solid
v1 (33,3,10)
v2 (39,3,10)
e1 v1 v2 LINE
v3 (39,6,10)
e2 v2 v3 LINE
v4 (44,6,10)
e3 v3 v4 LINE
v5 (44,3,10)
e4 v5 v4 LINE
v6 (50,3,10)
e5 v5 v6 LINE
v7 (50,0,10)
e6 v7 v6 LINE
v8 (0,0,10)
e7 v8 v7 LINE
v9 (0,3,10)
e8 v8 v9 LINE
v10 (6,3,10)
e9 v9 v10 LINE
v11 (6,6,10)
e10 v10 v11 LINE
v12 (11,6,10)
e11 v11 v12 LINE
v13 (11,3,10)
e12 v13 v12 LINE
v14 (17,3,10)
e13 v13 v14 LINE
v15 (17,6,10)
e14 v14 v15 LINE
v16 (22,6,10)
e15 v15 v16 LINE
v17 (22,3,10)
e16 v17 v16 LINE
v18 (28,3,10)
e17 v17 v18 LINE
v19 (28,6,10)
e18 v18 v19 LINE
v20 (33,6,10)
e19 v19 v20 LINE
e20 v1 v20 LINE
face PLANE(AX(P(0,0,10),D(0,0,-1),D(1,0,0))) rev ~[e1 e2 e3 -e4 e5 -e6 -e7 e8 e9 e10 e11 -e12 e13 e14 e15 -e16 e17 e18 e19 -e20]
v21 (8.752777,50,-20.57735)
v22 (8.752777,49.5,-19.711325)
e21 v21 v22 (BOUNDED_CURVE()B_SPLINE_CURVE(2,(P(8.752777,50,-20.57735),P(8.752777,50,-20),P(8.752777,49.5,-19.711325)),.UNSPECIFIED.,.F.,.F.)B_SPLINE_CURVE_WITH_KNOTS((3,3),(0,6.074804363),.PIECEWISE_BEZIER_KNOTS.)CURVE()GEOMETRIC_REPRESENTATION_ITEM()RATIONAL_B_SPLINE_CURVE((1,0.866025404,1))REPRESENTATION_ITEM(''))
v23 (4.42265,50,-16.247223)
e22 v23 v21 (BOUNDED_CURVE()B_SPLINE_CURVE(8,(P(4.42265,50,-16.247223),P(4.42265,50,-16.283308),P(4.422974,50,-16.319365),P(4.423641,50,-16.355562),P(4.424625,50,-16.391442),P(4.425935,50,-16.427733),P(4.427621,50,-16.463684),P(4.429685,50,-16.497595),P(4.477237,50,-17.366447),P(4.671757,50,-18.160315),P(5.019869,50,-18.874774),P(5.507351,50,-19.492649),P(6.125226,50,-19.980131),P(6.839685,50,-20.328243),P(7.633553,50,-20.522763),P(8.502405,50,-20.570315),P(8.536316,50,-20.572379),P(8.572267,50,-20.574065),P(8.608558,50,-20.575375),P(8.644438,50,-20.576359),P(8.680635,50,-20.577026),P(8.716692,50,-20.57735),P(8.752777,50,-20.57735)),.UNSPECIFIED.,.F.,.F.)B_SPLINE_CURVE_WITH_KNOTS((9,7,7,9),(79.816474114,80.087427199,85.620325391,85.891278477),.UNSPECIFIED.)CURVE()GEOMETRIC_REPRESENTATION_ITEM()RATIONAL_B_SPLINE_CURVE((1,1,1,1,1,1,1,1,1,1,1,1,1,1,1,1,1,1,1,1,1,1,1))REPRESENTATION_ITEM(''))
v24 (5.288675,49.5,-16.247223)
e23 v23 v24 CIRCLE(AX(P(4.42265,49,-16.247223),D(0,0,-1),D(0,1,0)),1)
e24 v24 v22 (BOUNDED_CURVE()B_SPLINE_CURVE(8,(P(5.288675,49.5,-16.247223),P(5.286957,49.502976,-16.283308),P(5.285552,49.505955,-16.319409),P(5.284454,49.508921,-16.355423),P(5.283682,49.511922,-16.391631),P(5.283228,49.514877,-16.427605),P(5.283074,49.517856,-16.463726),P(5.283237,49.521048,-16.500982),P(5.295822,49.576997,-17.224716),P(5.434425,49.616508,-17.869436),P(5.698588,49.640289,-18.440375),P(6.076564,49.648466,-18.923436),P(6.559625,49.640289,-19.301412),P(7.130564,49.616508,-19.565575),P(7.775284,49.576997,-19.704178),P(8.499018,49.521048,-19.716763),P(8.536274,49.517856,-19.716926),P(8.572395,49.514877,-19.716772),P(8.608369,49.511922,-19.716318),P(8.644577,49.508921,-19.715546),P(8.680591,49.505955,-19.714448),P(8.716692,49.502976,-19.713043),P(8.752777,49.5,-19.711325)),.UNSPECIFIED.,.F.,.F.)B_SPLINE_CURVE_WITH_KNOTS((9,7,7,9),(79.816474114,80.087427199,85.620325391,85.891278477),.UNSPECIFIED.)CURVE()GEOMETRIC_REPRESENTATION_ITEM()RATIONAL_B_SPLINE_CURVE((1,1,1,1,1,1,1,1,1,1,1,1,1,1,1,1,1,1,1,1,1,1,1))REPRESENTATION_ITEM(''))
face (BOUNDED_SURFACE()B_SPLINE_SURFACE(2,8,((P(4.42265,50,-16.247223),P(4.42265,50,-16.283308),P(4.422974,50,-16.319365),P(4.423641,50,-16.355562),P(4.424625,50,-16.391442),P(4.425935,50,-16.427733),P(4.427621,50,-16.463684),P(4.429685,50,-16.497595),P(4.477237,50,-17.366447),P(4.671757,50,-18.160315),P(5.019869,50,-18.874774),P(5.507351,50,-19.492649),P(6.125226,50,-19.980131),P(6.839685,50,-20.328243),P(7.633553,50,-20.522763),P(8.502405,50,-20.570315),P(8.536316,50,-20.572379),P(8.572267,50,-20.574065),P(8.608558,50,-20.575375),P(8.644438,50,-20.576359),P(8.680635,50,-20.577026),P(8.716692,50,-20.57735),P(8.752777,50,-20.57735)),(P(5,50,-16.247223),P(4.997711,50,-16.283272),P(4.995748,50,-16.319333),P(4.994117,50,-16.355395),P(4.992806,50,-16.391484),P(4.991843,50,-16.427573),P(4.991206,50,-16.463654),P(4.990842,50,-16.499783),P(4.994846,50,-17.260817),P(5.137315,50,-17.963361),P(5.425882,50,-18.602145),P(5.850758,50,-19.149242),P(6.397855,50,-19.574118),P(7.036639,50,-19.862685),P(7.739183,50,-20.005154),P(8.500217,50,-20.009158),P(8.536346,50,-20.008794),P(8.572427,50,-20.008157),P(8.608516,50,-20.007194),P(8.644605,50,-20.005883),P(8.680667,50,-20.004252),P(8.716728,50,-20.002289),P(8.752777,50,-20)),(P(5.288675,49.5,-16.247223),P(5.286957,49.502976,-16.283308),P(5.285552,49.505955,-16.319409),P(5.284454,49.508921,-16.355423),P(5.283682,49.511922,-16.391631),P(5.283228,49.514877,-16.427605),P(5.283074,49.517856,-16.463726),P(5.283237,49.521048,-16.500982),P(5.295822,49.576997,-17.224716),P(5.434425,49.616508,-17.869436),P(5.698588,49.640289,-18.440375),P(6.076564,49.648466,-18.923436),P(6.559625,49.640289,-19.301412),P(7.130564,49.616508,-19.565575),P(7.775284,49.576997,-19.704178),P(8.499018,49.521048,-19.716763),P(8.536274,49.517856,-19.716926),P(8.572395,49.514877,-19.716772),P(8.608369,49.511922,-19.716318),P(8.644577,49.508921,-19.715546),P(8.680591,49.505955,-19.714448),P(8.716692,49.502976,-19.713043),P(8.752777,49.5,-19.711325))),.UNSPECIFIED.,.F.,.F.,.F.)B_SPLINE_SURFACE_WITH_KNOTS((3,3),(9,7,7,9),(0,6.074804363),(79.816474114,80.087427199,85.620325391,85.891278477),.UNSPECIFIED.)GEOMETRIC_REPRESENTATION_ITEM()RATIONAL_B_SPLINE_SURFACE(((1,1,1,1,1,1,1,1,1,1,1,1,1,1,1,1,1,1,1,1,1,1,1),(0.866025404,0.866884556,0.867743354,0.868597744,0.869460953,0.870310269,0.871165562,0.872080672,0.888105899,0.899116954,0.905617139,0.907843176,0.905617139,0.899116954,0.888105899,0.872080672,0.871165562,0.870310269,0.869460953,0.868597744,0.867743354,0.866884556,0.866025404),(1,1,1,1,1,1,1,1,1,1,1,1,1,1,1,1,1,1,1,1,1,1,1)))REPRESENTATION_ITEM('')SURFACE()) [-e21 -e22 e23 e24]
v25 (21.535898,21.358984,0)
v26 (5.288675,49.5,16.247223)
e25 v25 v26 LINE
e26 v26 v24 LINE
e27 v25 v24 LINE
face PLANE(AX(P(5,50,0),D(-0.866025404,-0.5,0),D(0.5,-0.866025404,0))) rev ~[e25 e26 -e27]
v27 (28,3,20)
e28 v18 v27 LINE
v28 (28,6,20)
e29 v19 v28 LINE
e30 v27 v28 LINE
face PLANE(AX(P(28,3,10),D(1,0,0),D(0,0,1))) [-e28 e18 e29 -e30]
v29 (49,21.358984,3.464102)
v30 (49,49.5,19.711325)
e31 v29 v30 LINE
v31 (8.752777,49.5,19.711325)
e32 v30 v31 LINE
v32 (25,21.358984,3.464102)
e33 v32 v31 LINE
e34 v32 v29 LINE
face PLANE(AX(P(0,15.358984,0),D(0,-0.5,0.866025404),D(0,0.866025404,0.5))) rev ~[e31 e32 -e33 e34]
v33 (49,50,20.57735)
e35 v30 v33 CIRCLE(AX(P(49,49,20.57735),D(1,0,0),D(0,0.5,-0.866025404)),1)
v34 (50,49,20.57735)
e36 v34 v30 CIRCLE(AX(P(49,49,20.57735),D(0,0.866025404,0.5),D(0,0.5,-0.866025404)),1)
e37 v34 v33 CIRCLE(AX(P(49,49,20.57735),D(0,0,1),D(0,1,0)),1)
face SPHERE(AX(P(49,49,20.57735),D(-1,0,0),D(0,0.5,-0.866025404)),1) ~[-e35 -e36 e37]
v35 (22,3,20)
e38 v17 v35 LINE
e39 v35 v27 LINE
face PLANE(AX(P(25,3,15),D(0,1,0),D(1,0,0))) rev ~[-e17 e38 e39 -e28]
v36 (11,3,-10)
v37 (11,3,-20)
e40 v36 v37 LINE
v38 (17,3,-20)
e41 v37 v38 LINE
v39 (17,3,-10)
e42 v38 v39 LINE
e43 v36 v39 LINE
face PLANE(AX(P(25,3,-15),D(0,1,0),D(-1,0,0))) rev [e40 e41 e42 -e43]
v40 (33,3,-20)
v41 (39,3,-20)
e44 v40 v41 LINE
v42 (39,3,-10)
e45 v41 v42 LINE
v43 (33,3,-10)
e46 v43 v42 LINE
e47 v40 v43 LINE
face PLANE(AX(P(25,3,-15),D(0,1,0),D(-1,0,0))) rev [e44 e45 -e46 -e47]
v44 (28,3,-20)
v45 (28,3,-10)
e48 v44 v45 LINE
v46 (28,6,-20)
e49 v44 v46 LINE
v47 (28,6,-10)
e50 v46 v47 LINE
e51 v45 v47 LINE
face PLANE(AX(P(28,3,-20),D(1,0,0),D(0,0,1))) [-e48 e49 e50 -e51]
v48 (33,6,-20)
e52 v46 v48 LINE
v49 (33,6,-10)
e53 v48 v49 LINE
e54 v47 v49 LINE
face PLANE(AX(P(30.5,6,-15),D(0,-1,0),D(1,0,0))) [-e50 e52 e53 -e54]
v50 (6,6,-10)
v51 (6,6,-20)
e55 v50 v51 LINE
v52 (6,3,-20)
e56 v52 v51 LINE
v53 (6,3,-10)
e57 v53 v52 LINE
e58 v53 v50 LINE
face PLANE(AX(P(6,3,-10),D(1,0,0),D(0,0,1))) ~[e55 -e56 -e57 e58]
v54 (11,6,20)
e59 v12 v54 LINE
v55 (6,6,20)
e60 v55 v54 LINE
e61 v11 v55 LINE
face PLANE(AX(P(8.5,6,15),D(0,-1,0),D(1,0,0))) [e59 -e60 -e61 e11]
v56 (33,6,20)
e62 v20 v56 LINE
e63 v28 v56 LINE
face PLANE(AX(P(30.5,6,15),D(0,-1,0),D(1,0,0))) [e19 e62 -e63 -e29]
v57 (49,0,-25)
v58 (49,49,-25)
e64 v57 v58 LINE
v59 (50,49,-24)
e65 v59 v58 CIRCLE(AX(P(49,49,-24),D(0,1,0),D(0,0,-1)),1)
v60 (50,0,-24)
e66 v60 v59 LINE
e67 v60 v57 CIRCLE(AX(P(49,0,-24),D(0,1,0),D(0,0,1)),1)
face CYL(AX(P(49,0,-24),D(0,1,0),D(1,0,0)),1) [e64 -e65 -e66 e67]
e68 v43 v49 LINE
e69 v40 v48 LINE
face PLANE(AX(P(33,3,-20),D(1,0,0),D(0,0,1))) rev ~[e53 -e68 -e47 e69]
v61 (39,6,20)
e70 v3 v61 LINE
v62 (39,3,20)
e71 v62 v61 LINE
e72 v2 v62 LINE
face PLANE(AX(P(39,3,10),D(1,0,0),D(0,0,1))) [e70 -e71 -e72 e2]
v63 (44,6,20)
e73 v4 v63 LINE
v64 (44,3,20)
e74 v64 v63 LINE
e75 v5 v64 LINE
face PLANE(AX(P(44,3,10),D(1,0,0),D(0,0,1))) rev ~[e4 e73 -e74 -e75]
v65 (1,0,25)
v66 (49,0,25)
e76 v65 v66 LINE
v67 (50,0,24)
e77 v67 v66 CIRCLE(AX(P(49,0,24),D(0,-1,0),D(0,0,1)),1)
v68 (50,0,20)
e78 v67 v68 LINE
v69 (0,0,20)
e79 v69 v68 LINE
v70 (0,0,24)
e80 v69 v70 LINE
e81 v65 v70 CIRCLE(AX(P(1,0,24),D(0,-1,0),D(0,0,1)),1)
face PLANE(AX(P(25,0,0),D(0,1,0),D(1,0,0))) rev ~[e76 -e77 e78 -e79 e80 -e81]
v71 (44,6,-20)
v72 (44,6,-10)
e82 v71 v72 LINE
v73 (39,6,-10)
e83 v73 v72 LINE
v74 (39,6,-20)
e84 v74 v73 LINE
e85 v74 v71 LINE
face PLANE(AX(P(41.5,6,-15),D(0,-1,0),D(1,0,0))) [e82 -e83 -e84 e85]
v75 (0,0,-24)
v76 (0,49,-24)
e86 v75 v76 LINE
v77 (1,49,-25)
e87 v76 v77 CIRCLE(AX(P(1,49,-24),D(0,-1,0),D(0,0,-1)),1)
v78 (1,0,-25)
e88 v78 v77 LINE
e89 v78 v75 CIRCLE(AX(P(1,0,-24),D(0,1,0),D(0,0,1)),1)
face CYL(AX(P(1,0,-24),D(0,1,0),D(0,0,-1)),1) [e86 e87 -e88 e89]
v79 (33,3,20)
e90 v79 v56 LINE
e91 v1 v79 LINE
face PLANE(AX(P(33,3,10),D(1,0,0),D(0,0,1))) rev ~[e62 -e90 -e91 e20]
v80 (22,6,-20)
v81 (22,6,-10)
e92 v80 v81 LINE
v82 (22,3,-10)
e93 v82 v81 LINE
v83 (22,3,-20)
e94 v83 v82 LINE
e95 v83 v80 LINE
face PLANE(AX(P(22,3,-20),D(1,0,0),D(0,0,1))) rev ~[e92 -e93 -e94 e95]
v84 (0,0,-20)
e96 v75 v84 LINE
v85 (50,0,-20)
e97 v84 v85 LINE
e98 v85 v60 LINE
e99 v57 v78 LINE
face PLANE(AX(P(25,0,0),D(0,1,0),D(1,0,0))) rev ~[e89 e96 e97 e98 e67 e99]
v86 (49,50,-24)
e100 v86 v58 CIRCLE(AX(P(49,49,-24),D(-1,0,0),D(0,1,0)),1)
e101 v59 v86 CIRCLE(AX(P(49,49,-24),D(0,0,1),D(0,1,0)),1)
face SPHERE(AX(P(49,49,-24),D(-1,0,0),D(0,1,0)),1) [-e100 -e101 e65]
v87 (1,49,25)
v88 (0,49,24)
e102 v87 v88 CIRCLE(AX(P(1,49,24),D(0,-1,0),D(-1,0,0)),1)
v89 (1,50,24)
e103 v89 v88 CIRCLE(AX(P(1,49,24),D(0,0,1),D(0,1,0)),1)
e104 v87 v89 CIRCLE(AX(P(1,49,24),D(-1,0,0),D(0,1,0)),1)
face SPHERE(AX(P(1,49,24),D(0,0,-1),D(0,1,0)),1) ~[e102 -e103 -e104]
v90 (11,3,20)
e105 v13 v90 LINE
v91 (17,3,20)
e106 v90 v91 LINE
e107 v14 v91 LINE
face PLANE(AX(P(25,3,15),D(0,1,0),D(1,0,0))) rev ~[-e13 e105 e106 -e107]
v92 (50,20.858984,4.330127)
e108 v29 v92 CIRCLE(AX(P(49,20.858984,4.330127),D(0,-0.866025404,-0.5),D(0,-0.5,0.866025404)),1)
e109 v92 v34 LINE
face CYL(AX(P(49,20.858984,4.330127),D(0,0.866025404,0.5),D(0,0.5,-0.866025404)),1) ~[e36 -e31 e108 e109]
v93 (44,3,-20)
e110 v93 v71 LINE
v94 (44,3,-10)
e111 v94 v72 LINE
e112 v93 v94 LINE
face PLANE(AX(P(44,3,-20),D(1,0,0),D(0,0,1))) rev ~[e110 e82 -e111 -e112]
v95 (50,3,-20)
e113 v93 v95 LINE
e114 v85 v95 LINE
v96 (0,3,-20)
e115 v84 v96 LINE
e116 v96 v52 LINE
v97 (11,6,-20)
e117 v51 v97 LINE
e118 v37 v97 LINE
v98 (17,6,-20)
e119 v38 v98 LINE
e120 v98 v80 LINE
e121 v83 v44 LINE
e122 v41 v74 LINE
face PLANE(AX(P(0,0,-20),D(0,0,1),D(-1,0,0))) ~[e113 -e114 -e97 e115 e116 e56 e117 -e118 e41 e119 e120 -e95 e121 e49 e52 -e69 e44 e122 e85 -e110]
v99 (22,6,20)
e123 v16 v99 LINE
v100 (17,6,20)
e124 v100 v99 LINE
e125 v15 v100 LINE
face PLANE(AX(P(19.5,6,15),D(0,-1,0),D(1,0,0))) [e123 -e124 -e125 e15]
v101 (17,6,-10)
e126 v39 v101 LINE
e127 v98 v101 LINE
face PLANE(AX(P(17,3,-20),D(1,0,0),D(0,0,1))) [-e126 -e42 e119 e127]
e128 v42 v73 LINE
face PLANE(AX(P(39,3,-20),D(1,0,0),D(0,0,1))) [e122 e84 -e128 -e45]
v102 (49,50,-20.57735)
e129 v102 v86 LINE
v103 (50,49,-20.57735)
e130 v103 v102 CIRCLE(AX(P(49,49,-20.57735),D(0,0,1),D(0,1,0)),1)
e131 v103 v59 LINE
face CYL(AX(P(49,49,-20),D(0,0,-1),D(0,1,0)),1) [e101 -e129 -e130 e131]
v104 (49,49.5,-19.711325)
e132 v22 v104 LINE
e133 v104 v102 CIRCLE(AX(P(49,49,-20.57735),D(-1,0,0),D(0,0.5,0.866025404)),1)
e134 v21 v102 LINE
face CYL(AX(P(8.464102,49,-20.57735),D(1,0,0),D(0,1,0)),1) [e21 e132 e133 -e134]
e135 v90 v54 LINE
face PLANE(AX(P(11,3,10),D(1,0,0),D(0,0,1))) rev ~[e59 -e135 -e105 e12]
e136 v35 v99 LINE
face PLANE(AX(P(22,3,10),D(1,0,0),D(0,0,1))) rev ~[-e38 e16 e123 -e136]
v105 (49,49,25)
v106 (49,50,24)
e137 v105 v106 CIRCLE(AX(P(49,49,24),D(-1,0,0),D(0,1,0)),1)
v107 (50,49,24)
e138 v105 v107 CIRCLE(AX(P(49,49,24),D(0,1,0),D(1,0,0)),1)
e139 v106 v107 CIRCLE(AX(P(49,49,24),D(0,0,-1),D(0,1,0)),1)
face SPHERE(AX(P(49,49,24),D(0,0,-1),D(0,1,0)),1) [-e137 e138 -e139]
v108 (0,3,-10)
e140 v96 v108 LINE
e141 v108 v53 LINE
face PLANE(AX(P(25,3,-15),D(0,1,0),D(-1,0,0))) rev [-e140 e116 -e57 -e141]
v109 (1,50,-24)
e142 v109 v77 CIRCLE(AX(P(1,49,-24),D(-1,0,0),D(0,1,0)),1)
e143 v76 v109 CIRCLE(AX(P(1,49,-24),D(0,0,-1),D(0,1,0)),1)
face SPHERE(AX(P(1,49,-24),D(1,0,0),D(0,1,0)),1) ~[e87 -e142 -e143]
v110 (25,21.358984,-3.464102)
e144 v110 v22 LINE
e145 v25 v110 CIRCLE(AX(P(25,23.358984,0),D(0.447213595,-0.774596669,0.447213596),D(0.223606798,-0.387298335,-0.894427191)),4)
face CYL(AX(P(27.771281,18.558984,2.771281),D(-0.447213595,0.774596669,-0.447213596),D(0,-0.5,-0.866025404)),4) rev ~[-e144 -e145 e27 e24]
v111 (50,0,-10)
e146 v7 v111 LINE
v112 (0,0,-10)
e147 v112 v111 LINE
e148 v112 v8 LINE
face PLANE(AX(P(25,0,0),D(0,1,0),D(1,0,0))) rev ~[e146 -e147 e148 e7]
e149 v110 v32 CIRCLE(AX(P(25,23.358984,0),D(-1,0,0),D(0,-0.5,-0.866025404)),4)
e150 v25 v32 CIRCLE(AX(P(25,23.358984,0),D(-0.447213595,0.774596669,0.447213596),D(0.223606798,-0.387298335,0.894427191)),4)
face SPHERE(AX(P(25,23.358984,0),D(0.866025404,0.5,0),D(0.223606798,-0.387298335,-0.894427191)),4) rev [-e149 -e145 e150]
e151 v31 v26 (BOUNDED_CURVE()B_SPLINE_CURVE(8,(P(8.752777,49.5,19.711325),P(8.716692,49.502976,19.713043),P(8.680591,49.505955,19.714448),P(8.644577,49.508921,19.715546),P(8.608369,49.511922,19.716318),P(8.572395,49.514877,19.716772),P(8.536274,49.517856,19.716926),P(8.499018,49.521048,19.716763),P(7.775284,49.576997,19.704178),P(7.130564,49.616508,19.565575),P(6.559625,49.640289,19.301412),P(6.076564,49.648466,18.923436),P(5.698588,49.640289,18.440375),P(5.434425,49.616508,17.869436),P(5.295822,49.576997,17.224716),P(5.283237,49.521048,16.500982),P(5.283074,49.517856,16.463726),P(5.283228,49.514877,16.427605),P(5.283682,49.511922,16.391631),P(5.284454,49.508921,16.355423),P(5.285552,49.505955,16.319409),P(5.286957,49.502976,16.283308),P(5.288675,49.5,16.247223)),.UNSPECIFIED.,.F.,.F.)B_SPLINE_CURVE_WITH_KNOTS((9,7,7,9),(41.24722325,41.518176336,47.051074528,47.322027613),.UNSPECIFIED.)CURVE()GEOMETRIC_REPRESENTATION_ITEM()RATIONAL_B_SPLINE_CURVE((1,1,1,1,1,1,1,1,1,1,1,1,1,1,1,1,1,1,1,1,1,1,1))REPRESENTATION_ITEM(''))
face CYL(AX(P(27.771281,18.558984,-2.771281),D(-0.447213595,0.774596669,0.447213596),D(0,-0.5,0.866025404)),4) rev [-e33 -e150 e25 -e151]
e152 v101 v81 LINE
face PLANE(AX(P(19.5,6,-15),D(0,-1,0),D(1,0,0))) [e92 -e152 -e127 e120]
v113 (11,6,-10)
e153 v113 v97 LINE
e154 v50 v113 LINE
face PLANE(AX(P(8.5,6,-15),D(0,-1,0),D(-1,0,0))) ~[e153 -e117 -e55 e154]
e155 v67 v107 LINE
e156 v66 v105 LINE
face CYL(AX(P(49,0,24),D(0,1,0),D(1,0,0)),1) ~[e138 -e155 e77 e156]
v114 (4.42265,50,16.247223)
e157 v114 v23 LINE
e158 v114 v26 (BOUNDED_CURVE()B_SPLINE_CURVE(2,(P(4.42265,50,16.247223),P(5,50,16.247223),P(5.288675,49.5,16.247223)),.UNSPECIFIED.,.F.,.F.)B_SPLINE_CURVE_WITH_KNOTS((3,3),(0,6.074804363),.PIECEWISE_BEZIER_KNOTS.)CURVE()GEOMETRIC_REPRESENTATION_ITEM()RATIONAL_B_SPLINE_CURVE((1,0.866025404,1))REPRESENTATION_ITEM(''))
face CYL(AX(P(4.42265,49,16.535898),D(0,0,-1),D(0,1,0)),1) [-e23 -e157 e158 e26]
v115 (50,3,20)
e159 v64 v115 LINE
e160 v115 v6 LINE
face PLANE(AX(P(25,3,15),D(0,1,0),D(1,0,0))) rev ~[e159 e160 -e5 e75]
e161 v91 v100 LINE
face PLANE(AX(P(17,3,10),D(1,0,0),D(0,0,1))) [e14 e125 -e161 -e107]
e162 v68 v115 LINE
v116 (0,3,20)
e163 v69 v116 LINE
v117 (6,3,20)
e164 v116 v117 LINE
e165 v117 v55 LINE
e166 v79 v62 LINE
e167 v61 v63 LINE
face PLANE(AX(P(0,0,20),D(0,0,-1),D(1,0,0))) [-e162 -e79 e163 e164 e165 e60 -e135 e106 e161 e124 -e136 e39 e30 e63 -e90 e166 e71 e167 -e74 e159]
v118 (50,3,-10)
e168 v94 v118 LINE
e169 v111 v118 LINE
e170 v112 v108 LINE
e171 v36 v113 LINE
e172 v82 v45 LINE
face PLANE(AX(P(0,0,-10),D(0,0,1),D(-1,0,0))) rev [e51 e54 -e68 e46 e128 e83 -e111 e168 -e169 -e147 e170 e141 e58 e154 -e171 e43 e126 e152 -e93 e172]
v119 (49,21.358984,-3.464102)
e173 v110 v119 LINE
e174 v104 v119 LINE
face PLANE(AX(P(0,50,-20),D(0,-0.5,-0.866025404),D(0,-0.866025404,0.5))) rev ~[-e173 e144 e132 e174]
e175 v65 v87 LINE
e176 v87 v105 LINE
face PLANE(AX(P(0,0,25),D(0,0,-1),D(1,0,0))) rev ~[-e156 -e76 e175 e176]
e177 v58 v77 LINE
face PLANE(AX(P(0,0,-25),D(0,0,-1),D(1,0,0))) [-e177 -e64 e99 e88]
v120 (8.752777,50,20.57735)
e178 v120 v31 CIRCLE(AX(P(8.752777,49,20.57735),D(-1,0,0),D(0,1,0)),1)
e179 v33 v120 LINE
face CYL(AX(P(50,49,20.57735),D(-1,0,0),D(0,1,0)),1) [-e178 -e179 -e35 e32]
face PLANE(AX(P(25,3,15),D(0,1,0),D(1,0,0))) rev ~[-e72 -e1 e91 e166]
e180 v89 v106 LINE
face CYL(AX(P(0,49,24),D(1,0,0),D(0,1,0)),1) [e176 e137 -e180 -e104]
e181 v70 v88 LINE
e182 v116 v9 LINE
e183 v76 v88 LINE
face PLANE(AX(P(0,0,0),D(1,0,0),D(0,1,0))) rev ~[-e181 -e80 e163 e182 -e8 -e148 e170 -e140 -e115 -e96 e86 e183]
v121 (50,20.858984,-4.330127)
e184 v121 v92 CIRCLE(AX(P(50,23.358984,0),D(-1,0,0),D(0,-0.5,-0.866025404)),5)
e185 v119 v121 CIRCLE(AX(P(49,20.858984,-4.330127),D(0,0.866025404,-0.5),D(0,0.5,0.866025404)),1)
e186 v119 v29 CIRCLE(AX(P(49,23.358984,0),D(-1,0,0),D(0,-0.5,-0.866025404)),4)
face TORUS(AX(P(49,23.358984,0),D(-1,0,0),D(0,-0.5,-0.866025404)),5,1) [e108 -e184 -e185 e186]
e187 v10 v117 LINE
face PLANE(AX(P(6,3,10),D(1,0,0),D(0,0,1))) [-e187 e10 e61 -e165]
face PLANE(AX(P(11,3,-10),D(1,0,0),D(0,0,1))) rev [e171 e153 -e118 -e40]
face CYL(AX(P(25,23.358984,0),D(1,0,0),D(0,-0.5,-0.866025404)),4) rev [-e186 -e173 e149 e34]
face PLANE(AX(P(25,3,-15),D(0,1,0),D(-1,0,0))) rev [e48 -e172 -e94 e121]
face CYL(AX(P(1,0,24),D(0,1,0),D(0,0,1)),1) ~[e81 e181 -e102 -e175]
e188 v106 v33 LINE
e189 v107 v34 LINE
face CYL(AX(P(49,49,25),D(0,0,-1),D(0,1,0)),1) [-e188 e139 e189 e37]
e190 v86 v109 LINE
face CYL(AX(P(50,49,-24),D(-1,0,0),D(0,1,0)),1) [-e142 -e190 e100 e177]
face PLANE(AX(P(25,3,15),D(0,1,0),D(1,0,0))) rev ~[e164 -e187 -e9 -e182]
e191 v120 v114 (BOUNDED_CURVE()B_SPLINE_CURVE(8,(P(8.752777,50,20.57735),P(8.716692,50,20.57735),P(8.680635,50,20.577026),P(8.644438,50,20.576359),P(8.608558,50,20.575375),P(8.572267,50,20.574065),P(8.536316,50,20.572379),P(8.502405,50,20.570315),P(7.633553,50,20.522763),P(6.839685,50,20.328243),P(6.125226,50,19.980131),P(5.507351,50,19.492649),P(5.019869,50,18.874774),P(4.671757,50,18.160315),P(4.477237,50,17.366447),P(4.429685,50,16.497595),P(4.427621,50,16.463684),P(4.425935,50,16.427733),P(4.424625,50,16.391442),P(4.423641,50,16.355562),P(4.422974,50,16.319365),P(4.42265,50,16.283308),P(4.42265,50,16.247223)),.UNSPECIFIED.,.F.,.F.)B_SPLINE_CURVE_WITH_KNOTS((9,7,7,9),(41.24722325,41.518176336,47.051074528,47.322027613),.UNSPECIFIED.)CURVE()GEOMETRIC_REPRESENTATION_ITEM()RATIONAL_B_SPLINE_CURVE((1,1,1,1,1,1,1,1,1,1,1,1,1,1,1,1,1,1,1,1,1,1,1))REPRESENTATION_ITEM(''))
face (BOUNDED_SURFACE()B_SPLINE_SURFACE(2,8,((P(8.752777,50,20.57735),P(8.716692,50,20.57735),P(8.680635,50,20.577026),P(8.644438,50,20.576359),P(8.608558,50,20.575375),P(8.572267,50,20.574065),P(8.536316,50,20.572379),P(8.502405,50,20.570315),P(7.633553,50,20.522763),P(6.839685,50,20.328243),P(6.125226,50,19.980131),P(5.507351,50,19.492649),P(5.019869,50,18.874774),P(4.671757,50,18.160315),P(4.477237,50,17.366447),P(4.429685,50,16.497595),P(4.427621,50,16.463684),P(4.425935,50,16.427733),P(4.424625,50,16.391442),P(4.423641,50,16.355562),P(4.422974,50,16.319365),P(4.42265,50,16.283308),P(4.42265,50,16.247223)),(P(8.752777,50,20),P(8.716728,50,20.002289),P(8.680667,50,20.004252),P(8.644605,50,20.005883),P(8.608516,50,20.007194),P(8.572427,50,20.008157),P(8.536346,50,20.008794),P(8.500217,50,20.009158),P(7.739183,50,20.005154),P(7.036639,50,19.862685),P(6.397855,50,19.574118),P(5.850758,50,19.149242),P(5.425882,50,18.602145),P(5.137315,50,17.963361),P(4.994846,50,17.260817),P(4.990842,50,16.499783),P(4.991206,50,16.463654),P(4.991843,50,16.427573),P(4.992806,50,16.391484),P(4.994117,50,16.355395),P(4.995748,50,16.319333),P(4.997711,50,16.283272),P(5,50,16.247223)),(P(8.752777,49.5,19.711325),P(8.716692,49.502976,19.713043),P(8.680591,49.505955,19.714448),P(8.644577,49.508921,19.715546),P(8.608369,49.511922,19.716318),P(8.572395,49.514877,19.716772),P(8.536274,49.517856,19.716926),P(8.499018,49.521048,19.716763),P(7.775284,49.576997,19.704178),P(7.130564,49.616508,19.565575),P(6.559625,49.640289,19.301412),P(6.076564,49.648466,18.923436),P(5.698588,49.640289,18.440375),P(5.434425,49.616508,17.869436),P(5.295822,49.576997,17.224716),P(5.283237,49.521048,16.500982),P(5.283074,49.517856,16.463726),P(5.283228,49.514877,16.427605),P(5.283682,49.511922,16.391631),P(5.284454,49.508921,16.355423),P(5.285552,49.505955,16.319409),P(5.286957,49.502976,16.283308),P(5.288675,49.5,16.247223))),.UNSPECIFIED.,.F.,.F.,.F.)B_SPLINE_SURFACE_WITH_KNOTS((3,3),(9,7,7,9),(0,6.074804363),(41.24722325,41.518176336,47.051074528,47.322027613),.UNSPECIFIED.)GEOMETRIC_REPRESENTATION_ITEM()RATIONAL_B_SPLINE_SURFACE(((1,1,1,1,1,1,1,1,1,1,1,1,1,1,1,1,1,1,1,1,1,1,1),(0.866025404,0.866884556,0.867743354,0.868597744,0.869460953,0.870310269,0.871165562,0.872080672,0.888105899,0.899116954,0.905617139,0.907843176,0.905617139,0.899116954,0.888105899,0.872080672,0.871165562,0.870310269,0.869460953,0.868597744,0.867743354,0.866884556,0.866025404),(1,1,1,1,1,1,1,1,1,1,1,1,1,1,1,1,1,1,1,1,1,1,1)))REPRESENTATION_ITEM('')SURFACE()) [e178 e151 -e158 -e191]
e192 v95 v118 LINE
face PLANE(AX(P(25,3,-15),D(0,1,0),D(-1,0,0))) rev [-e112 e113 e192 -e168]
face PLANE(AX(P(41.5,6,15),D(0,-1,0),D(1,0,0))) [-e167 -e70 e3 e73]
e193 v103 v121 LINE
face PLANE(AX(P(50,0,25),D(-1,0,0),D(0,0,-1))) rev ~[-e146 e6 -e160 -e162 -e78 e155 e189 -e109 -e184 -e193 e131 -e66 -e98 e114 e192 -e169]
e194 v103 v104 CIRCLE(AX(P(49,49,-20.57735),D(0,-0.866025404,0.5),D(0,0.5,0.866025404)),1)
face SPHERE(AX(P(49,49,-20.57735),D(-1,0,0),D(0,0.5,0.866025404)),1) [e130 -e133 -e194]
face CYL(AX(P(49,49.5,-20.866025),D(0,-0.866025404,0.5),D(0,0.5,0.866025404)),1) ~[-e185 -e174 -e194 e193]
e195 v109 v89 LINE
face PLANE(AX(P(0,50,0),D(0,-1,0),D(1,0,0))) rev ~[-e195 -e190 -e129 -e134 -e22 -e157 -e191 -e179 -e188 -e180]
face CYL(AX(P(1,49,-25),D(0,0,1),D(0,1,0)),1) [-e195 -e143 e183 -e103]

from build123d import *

# Parameters (mm, degrees)
SKETCH1_W                = 50
SKETCH1_H                = 50
BOSS_EXTRUDE1_DEPTH      = 50
CUT_EXTRUDE1_DEPTH       = 50
BOSS_EXTRUDE2_DEPTH      = 25
BOSS_EXTRUDE2_DEPTH_BACK = 25
FILLET1_R                = 4
SKETCH4_W                = 50
SKETCH4_H                = 10
CUT_EXTRUDE3_DEPTH       = 3
SKETCH5_W                = 5
SKETCH5_H                = 10
CUT_EXTRUDE4_DEPTH       = 3
LPATTERN1_COUNT          = 4
LPATTERN1_PITCH          = 11
MIRROR1_COPY_1_SKETCH_W  = 5
MIRROR1_COPY_1_SKETCH_H  = 10
MIRROR1_COPY_1_DEPTH     = 3
MIRROR1_COPY_2_SKETCH_W  = 5
MIRROR1_COPY_2_SKETCH_H  = 10
MIRROR1_COPY_2_DEPTH     = 3
MIRROR1_COPY_3_SKETCH_W  = 5
MIRROR1_COPY_3_SKETCH_H  = 10
MIRROR1_COPY_3_DEPTH     = 3
FILLET2_R                = 1


with BuildPart() as part:
    # Sketch1 → Boss-Extrude1 (new body)
    with BuildSketch(Plane(origin=(0, 0, 0), x_dir=(1, 0, 0), z_dir=(0, 1, 0))):
        with Locations((25, 0)):
            Rectangle(SKETCH1_W, SKETCH1_H)
    extrude(amount=BOSS_EXTRUDE1_DEPTH)

    # Sketch2 → Cut-Extrude1 (cut)
    with BuildSketch(Plane(origin=(0, 0, 0), x_dir=(0, 0, -1), z_dir=(1, 0, 0))):
        Polygon((20, 50), (0, 15.358983849), (-20, 50), align=None)
    extrude(amount=CUT_EXTRUDE1_DEPTH, mode=Mode.SUBTRACT)

    # Sketch3 → Boss-Extrude2 (add, two sides: drawn at the far end of the back side and taken through both)
    with BuildSketch(Plane.XY.offset(-BOSS_EXTRUDE2_DEPTH_BACK)):
        Polygon((0, 50), (5, 50), (33.867513459, 0), (0, 0), align=None)
    extrude(amount=BOSS_EXTRUDE2_DEPTH + BOSS_EXTRUDE2_DEPTH_BACK)

    # Fillet1
    fillet1_edges = [part.edges().sort_by_distance(p)[0] for p in [
        (15, 32.679491924, -10),
        (15, 32.679491924, 10),
        (37.5, 15.358983849, 0),
    ]]
    fillet(fillet1_edges, radius=FILLET1_R)

    # Sketch4 → Cut-Extrude3 (cut)
    with BuildSketch(Plane(origin=(0, 0, 0), x_dir=(1, 0, 0), z_dir=(0, 1, 0))):
        with Locations((25, -15)):
            Rectangle(SKETCH4_W, SKETCH4_H)
    cut_extrude3 = extrude(amount=CUT_EXTRUDE3_DEPTH, mode=Mode.SUBTRACT)

    # Sketch5 → Cut-Extrude4 (cut)
    with BuildSketch(Plane.XZ.offset(-3)):
        with Locations((8.5, 15)):
            Rectangle(SKETCH5_W, SKETCH5_H)
    cut_extrude4 = extrude(amount=-CUT_EXTRUDE4_DEPTH, mode=Mode.SUBTRACT)

    # LPattern1: Cut-Extrude4 ×4
    with Locations(*[(i * LPATTERN1_PITCH, 0, 0) for i in range(1, LPATTERN1_COUNT)]):
        add(cut_extrude4, mode=Mode.SUBTRACT)

    # Mirror1: Cut-Extrude3, Cut-Extrude4 across plane
    add(cut_extrude3.mirror(Plane.XY), mode=Mode.SUBTRACT)
    add(cut_extrude4.mirror(Plane.XY), mode=Mode.SUBTRACT)

    # Mirror1 copy 1 sketch → Mirror1 copy 1 (cut)
    with BuildSketch(Plane(origin=(11, 3, 0), x_dir=(1, 0, 0), z_dir=(0, -1, 0))):
        with Locations((8.5, -15)):
            Rectangle(MIRROR1_COPY_1_SKETCH_W, MIRROR1_COPY_1_SKETCH_H)
    extrude(amount=-MIRROR1_COPY_1_DEPTH, mode=Mode.SUBTRACT)

    # Mirror1 copy 2 sketch → Mirror1 copy 2 (cut)
    with BuildSketch(Plane(origin=(22, 3, 0), x_dir=(1, 0, 0), z_dir=(0, -1, 0))):
        with Locations((8.5, -15)):
            Rectangle(MIRROR1_COPY_2_SKETCH_W, MIRROR1_COPY_2_SKETCH_H)
    extrude(amount=-MIRROR1_COPY_2_DEPTH, mode=Mode.SUBTRACT)

    # Mirror1 copy 3 sketch → Mirror1 copy 3 (cut)
    with BuildSketch(Plane(origin=(33, 3, 0), x_dir=(1, 0, 0), z_dir=(0, -1, 0))):
        with Locations((8.5, -15)):
            Rectangle(MIRROR1_COPY_3_SKETCH_W, MIRROR1_COPY_3_SKETCH_H)
    extrude(amount=-MIRROR1_COPY_3_DEPTH, mode=Mode.SUBTRACT)

    # Fillet2
    fillet2_edges = [part.edges().sort_by_distance(p)[0] for p in [
        (50, 35.679491924, -11.732050808),
        (50, 19.358983849, 0),
        (50, 50, -22.5),
        (29.232050808, 50, -20),
        (5.967318437, 50, -19.032681563),
        (5, 50, 0),
        (5.967318437, 50, 19.032681563),
        (29.232050808, 50, 20),
        (50, 50, 22.5),
        (25, 50, 25),
        (0, 50, 0),
        (25, 50, -25),
        (0, 25, -25),
        (0, 25, 25),
        (50, 25, -25),
        (50, 35.679491924, 11.732050808),
        (50, 25, 25),
    ]]
    fillet(fillet2_edges, radius=FILLET2_R)


solid = part.part
